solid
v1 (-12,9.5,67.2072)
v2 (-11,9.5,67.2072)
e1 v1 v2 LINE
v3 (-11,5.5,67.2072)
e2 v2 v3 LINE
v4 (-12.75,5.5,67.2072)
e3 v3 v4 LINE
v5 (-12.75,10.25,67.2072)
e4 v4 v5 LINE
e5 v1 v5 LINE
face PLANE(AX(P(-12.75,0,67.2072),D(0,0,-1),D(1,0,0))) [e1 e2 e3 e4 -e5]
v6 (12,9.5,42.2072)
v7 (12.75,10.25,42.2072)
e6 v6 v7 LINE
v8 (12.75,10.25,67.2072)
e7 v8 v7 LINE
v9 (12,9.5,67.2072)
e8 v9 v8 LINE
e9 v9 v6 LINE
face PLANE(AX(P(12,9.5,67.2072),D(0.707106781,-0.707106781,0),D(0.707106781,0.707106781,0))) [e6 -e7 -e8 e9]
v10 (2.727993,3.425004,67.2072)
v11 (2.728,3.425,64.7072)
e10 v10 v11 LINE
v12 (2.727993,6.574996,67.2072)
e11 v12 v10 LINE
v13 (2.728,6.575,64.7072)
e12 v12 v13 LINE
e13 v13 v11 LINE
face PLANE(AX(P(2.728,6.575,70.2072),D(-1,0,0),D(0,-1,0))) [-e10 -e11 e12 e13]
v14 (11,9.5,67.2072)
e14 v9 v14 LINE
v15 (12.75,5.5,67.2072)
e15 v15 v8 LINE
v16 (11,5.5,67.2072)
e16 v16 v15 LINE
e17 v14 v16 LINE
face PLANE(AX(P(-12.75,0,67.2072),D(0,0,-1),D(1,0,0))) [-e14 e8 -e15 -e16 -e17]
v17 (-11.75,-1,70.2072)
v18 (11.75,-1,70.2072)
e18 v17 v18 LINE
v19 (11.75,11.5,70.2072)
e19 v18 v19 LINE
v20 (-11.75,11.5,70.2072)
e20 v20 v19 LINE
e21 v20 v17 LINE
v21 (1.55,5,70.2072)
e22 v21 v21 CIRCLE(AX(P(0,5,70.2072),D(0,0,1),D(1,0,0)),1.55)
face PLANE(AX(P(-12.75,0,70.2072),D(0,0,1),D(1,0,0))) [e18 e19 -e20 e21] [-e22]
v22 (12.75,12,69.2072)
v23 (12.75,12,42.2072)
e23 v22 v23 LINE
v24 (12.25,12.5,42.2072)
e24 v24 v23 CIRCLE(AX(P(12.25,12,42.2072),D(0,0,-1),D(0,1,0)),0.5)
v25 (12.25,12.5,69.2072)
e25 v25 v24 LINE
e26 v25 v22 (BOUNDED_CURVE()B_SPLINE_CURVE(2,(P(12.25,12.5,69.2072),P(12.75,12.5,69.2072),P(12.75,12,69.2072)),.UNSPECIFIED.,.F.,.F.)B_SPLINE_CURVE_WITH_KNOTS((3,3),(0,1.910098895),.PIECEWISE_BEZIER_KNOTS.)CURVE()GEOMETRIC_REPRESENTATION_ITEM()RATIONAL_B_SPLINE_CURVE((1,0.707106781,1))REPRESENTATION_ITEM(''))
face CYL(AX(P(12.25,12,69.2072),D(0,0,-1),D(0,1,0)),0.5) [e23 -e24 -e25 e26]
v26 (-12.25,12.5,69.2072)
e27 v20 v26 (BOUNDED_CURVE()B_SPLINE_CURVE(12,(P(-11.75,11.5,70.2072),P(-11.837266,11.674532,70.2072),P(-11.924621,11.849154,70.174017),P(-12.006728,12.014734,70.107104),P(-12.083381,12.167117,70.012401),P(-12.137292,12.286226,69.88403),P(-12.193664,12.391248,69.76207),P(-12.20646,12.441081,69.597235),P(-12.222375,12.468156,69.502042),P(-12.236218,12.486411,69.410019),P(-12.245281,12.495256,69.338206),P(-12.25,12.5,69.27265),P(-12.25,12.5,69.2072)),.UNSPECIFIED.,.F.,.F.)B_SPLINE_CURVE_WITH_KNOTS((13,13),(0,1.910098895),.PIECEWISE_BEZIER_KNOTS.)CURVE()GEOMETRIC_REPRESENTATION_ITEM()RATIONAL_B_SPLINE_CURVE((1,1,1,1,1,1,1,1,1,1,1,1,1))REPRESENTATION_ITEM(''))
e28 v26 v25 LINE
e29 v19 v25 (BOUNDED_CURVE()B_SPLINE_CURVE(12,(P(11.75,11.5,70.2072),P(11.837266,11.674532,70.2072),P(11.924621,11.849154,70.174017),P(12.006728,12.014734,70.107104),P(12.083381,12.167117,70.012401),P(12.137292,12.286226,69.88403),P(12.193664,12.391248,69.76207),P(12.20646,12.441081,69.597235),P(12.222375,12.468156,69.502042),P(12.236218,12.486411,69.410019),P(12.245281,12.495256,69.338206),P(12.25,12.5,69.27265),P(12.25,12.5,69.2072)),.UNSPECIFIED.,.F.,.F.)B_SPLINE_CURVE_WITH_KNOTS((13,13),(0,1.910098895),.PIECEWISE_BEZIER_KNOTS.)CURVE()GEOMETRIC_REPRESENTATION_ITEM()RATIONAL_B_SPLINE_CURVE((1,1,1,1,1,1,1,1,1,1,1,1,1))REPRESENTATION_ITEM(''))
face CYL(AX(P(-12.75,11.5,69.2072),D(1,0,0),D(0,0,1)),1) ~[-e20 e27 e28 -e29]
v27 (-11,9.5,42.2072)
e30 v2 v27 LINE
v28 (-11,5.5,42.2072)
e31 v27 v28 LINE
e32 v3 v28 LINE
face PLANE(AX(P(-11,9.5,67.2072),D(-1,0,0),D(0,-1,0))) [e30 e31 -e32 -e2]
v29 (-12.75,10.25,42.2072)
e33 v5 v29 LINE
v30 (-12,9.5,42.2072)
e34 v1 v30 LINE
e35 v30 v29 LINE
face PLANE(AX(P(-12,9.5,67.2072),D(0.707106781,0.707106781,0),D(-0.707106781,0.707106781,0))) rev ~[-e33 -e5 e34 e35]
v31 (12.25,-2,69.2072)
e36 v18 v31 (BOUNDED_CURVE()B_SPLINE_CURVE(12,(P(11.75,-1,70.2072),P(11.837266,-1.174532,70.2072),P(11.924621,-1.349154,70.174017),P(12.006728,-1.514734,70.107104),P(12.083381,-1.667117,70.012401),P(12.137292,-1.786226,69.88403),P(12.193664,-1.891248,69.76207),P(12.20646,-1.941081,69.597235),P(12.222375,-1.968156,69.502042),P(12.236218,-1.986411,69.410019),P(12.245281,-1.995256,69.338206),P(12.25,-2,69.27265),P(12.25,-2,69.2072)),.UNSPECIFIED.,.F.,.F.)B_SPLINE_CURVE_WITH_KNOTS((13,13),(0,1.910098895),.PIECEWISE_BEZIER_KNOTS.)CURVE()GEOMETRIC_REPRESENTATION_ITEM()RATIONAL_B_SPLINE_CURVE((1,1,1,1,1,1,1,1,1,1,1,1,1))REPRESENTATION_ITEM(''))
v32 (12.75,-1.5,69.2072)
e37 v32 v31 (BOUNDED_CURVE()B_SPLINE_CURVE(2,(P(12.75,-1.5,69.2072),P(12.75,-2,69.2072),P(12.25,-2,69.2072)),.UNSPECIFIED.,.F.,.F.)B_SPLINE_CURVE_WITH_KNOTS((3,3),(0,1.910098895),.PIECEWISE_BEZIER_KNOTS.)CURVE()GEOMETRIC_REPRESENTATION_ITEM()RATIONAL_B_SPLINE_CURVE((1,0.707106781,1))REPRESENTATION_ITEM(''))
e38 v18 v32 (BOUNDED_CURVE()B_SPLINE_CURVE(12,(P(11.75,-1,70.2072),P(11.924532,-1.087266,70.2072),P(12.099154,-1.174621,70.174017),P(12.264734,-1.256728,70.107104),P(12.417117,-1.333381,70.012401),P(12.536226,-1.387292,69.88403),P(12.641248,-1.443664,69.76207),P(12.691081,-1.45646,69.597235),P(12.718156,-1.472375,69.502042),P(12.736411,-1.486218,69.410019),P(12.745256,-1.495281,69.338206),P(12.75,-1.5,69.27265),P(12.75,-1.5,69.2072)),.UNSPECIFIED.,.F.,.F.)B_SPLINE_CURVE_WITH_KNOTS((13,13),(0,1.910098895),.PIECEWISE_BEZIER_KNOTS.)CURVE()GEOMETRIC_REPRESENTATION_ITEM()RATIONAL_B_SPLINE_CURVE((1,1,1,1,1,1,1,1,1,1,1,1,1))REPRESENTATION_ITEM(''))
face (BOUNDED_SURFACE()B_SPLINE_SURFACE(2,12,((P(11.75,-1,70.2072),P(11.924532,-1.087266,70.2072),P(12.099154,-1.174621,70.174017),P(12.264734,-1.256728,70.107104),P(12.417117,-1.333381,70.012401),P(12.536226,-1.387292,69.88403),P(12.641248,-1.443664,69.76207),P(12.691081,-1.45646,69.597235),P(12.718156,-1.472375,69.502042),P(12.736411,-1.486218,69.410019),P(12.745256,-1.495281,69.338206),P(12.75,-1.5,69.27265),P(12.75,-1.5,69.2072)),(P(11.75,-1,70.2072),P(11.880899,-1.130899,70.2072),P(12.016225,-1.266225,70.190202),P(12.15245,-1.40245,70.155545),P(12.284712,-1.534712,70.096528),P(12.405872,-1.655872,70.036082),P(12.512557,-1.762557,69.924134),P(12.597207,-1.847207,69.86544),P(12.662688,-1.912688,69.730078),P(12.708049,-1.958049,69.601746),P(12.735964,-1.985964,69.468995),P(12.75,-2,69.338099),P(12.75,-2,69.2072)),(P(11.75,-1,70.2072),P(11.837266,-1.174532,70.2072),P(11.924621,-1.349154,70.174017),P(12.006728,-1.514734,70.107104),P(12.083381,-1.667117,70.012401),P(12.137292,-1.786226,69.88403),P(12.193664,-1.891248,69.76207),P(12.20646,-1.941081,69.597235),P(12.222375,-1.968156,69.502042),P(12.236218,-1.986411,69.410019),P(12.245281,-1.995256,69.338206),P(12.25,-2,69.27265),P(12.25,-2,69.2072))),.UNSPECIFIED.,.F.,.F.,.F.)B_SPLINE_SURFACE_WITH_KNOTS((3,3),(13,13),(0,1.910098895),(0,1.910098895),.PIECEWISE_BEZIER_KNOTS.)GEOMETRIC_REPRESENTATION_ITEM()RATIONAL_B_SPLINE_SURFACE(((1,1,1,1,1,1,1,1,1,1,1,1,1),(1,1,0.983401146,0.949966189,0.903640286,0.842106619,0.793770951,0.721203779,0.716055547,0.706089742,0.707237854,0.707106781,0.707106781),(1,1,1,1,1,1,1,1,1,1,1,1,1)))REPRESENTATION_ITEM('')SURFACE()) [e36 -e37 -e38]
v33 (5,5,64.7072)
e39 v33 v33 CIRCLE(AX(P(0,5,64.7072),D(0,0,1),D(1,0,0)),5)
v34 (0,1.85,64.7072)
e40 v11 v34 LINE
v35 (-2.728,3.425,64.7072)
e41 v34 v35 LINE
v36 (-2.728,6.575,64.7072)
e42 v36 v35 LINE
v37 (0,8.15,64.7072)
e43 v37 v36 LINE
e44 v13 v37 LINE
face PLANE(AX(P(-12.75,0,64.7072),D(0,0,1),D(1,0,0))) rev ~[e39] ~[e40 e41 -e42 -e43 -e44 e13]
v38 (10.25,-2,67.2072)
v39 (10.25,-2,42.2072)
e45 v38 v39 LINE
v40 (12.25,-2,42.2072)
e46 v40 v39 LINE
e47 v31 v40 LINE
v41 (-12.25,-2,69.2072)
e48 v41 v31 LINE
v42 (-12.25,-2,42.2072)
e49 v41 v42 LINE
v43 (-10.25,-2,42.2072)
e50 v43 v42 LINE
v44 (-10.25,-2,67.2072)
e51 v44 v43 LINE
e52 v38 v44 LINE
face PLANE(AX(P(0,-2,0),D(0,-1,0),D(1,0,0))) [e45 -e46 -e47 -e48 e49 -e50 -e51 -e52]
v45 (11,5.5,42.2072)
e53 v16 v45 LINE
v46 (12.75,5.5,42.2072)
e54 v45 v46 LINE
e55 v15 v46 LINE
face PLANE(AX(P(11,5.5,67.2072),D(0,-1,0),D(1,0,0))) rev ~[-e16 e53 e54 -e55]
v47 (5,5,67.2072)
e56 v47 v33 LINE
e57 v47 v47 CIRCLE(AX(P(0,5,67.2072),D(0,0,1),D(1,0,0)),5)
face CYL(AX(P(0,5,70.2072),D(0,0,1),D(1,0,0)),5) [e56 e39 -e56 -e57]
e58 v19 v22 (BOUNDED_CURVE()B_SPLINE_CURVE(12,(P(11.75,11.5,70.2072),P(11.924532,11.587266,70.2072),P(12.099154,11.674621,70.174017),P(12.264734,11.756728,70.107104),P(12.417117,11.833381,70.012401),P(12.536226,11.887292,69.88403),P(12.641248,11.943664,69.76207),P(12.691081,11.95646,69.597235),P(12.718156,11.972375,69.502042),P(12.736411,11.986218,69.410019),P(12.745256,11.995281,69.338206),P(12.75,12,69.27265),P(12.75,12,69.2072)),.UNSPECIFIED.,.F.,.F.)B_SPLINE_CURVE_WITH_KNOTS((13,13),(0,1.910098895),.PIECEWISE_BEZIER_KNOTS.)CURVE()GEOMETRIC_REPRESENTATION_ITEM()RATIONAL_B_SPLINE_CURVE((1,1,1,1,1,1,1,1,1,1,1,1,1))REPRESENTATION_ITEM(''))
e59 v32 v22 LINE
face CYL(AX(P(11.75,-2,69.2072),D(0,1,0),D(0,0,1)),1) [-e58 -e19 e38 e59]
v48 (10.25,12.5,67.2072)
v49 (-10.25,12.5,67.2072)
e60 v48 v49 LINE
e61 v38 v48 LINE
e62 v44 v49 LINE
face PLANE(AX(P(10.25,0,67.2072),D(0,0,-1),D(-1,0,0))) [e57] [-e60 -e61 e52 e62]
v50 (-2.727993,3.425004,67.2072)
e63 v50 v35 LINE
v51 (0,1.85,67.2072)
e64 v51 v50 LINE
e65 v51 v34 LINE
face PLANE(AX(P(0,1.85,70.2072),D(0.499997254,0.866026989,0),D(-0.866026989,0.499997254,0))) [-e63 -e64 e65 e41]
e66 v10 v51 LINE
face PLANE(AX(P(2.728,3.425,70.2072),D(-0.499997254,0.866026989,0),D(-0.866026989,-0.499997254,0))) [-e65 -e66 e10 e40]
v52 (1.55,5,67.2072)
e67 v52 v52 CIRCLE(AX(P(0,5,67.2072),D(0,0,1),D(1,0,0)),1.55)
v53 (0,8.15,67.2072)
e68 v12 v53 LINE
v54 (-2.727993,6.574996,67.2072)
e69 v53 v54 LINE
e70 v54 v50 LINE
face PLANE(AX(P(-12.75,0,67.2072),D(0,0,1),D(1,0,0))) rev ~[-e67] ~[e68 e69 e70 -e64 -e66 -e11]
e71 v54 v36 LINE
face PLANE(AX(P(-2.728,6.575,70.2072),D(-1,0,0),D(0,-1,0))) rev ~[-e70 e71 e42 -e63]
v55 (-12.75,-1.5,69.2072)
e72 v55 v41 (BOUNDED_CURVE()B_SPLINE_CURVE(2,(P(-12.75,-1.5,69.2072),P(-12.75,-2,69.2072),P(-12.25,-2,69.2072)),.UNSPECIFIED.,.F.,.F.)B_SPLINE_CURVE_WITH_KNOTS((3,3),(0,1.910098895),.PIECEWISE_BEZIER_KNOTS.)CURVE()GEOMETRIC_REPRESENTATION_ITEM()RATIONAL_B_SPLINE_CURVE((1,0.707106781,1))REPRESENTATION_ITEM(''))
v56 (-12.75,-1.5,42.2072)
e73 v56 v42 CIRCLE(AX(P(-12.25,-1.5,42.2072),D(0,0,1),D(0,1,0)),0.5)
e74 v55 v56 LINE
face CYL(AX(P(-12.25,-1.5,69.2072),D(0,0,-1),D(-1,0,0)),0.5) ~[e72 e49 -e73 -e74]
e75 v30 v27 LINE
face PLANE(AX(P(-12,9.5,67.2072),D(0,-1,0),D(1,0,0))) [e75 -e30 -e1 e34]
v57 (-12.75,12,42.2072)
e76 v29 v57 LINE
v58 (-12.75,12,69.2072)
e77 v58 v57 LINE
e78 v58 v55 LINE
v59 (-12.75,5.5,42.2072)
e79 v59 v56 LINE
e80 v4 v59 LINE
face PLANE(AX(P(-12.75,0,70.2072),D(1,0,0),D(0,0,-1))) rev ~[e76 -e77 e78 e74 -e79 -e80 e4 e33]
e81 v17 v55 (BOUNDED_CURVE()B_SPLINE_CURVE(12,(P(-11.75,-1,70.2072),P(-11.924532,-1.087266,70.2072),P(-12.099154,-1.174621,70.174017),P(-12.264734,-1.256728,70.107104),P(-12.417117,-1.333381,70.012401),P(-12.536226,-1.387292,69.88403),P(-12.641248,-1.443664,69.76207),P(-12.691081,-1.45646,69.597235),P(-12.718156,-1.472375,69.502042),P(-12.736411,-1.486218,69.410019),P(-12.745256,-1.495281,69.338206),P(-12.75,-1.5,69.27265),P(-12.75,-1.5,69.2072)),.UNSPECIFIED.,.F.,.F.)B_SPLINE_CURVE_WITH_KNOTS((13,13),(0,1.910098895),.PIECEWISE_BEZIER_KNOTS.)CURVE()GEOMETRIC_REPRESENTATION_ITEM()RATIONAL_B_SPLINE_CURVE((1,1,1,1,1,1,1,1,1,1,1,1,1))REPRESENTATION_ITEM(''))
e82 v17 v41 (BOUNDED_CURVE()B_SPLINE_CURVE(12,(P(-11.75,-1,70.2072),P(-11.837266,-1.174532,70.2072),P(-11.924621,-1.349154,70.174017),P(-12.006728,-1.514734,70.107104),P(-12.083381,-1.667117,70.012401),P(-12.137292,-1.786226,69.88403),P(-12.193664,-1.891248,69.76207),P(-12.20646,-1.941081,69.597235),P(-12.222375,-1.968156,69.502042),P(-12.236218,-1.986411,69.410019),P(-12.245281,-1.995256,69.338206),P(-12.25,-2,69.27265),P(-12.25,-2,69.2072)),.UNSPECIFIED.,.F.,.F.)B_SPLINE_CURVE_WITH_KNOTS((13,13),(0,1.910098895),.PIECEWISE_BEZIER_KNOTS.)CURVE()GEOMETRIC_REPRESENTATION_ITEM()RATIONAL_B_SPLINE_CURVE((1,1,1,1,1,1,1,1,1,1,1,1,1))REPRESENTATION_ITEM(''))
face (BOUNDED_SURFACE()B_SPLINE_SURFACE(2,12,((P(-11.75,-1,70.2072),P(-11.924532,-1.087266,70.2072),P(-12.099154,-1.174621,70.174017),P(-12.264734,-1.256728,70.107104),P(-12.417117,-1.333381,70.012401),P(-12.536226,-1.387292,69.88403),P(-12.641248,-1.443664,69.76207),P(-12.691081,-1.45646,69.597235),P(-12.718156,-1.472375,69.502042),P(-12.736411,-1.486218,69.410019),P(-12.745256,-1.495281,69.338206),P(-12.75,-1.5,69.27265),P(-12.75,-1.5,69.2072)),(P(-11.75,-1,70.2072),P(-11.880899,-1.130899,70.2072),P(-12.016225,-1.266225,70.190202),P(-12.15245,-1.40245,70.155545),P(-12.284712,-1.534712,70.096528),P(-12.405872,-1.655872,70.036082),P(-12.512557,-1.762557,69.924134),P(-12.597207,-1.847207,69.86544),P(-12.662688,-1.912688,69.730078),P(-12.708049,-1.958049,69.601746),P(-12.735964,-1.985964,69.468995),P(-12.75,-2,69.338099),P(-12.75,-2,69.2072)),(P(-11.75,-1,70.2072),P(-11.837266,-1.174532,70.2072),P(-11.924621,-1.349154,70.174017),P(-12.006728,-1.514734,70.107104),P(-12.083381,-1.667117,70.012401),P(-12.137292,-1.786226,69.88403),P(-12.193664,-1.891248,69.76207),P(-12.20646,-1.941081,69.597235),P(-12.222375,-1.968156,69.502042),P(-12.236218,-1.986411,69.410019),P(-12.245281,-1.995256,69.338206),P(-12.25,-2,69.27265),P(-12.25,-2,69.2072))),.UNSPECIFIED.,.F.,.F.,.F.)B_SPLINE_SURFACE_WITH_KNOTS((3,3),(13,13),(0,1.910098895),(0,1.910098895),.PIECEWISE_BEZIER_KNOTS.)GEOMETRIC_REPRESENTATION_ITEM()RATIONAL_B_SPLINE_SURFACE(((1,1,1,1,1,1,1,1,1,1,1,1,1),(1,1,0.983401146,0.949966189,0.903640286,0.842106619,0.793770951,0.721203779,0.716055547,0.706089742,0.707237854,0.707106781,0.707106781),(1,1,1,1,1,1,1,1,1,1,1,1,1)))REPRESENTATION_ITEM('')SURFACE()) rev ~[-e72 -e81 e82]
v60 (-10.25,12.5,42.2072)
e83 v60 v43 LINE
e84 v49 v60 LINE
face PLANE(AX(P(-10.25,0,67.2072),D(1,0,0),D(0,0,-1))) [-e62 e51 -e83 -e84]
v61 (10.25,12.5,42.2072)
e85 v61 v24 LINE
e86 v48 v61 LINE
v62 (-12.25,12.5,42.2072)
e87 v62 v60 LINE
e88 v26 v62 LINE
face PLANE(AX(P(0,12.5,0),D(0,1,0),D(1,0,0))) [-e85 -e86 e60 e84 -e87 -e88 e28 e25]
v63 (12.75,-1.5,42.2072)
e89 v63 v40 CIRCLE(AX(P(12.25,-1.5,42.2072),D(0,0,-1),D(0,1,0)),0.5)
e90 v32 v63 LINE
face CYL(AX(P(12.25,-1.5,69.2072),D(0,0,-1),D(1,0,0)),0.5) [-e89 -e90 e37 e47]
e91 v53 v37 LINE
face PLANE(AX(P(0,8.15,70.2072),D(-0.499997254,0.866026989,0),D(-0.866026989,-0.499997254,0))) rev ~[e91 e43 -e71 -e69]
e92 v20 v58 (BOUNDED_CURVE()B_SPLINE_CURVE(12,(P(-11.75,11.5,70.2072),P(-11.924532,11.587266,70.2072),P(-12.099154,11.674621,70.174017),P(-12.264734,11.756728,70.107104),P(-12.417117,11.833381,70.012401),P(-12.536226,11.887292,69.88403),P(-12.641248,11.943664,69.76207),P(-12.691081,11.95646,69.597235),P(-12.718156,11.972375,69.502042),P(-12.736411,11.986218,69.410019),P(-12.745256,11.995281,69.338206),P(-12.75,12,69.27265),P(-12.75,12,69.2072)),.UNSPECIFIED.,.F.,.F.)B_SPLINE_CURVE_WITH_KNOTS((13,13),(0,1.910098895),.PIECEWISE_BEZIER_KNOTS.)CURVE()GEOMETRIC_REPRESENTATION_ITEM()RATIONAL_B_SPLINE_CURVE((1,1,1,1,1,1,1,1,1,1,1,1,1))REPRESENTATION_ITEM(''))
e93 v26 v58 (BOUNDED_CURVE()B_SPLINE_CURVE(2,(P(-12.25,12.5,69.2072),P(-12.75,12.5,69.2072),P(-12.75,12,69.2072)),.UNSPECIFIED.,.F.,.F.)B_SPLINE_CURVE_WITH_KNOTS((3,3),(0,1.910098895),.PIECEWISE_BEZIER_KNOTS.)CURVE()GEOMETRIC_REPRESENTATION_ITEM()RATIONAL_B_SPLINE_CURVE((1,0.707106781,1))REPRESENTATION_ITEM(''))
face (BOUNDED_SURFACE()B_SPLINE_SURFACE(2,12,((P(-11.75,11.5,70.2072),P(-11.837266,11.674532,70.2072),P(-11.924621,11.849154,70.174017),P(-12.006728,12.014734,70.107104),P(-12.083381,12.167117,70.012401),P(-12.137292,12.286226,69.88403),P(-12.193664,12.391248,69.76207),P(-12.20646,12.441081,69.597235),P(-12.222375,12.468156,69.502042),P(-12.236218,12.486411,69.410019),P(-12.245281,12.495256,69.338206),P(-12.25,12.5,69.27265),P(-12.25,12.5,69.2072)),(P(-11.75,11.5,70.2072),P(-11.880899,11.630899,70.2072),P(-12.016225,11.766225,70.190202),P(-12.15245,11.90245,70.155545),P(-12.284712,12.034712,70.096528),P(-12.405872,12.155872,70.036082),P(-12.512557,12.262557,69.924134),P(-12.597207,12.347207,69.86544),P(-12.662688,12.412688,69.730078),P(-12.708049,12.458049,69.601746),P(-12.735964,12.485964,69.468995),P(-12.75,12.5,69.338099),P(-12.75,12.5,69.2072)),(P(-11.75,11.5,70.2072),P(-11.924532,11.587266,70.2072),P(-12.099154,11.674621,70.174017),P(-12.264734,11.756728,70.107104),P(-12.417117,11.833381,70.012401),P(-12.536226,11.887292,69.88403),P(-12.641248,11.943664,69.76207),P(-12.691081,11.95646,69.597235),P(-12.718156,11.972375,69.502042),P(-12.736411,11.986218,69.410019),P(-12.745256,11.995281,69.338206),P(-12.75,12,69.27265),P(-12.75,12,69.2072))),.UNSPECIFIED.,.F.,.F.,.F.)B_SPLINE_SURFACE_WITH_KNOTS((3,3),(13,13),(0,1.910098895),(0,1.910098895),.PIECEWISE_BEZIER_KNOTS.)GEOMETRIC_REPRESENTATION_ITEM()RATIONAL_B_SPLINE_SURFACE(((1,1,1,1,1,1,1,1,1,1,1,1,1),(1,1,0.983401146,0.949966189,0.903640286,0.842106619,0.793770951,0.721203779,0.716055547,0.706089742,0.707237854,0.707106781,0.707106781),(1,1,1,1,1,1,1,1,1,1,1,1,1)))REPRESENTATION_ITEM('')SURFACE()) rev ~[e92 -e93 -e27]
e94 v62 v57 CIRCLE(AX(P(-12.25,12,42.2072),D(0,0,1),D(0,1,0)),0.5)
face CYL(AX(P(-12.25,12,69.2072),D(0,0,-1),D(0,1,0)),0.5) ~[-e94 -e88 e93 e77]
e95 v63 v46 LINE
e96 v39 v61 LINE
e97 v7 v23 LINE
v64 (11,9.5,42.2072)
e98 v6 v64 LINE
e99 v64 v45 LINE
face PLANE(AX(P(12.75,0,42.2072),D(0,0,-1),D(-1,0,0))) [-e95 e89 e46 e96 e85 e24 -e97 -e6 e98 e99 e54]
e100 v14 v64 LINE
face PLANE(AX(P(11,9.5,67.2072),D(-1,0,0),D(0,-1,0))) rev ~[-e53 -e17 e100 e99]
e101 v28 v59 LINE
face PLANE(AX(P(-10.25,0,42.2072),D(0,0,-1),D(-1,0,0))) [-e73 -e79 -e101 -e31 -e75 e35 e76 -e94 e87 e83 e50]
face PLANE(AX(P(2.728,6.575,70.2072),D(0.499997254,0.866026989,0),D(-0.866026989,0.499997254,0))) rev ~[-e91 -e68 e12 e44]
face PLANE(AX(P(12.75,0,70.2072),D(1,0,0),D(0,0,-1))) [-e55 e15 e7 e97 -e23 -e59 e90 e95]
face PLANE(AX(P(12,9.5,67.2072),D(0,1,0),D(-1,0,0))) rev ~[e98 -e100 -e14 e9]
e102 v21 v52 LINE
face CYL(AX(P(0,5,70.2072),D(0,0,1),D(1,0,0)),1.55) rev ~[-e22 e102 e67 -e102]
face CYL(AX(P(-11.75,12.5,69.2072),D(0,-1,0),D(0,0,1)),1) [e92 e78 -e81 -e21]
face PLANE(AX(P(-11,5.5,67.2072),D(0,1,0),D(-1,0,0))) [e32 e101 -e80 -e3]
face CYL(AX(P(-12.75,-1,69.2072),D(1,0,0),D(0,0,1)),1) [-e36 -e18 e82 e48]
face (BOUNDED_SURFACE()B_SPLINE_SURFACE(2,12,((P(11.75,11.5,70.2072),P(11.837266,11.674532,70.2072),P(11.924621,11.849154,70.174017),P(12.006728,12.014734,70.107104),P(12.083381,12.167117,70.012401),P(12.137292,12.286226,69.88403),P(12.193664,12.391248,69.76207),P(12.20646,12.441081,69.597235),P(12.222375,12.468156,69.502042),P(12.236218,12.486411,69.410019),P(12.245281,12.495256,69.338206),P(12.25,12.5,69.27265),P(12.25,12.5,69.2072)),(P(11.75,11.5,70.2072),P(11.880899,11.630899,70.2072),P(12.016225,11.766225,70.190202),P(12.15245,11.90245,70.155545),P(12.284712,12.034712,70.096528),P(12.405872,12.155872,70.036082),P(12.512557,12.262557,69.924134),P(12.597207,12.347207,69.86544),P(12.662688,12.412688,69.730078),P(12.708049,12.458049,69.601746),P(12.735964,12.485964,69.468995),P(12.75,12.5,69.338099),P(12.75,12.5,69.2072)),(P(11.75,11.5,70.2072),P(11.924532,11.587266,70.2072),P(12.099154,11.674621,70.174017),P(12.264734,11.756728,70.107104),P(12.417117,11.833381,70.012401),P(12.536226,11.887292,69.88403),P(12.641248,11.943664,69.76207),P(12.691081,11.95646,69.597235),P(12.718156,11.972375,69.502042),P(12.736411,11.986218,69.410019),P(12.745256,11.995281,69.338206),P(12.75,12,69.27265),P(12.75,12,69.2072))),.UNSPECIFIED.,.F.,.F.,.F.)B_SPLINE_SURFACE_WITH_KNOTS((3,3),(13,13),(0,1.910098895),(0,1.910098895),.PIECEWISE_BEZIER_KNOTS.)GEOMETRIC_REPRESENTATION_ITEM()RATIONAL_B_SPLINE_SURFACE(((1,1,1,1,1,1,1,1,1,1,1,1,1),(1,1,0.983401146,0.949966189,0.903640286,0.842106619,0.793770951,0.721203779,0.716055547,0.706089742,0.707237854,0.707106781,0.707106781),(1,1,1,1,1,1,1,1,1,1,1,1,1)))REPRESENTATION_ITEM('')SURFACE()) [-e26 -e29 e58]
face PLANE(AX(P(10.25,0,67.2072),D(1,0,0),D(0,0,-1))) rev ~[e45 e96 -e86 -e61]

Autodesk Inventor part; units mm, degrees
ref_plane "YZ Plane" through (0, 0, 0) normal (1, 0, 0) x (0, 1, 0)
ref_plane "XZ Plane" through (0, 0, 0) normal (0, 1, 0) x (-1, 0, 0)
ref_plane "XY Plane" through (0, 0, 0) normal (0, 0, 1) x (1, 0, 0)
sketch "Эскиз1" plane through (0, 0, 0) normal (0, 1, 0) x (-1, 0, 0)
  line L0 (0, 56.6418) -> (23.7825, 76.5969) construction
  line L1 (44.1942, 76.014) -> (76.014, 44.1942) construction
  line L2 (91.1, 52.2091) -> (52.2091, 91.1) construction
  line L3 (0, 0) -> (74.2462, 74.2462) construction
  arc A0 (92.5543, 49.5852) -> (48.7014, 93.0224) centre (0, 0) ccw construction
  line L4 (52.2091, 91.1) -> (48.6736, 87.5645) construction
  arc A1 (44.1942, 83.085) -> (44.1942, 76.014) centre (47.7297, 79.5495) ccw construction
  line L5 (52.2091, 91.1) -> (48.6736, 87.5645) construction
  line L6 (48.6736, 87.5645) -> (52.2091, 91.1) construction
  spline S0 degree 2 poles (48.6736, 87.5645) (52.2091, 91.1) (48.7014, 93.0224) knots 1 1 1 2 2 2 construction
  line L7 (52.2091, 91.1) -> (48.7014, 93.0224) construction
  line L8 (52.2091, 91.1) -> (48.7014, 93.0224) construction
  arc A2 (48.7014, 93.0224) -> (44.0271, 95.3237) centre (0, 0) ccw construction
  arc A3 (44.0271, 95.3237) -> (43.577, 95.5303) centre (0, 0) ccw construction
  line L9 (42.6652, 95.941) -> (43.577, 95.5303) construction
  line L10 (42.6652, 95.941) -> (43.577, 95.5303) construction
  spline S1 degree 2 poles (42.0492, 94.5734) (42.6652, 95.941) (43.577, 95.5303) knots 1 1 1 2 2 2 construction
  line L11 (42.0492, 94.5734) -> (42.6652, 95.941) construction
  line L12 (42.6652, 95.941) -> (42.0492, 94.5734) construction
  line L13 (0, 0) -> (0, 209.8821) construction
  spline S2 degree 2 poles (-48.6736, 87.5645) (-52.2091, 91.1) (-48.7014, 93.0224) knots 1 1 1 2 2 2 construction
  line L14 (-48.6736, 87.5645) -> (-52.2091, 91.1) construction
  line L15 (-52.2091, 91.1) -> (-48.7014, 93.0224) construction
  arc A4 (-44.1942, 76.014) -> (-44.1942, 83.085) centre (-47.7297, 79.5495) ccw construction
  line L16 (-44.1942, 76.014) -> (-76.014, 44.1942) construction
  arc A5 (-48.7014, 93.0224) -> (-92.5543, 49.5852) centre (0, 0) ccw construction
  arc A6 (-83.085, 44.1942) -> (-76.014, 44.1942) centre (-79.5495, 47.7297) ccw construction
  line L17 (-83.085, 44.1942) -> (-87.3563, 48.4654) construction
  spline S3 degree 2 poles (-48.6736, -87.5645) (-52.2091, -91.1) (-48.7014, -93.0224) knots 1 1 1 2 2 2 construction
  line L18 (-48.6736, -87.5645) -> (-52.2091, -91.1) construction
  line L19 (-52.2091, -91.1) -> (-48.7014, -93.0224) construction
  circle A7 centre (0, 0) radius 35 construction
  line L20 (-46.3155, -73.8927) -> (-73.8927, -46.3155) construction
  arc A8 (-73.8927, -46.3155) -> (-85.2064, -46.3155) centre (-79.5495, -51.9723) ccw construction
  line L21 (-85.2064, -46.3155) -> (-87.5645, -48.6736) construction
  line L22 (-87.5645, -48.6736) -> (-91.1, -52.2091) construction
  spline S4 degree 2 poles (-87.5645, -48.6736) (-91.1, -52.2091) (-92.5543, -49.5852) knots 1 1 1 2 2 2 construction
  line L23 (-91.1, -52.2091) -> (-92.5543, -49.5852) construction
  arc A9 (-92.5543, -49.5852) -> (-48.7014, -93.0224) centre (0, 0) ccw construction
  arc A10 (-92.5543, 49.5852) -> (-92.5543, -49.5852) centre (0, 0) ccw construction
  line L24 (48.6736, -87.5645) -> (46.3155, -85.2064) construction
  arc A11 (-46.3155, -85.2064) -> (-46.3155, -73.8927) centre (-51.9723, -79.5495) ccw construction
  line L25 (-48.6736, -87.5645) -> (-46.3155, -85.2064) construction
  arc A12 (-48.7014, -93.0224) -> (48.7014, -93.0224) centre (0, 0) ccw construction
  arc A13 (46.3155, -73.8927) -> (46.3155, -85.2064) centre (51.9723, -79.5495) ccw construction
  arc A14 (43.577, 95.5303) -> (-43.577, 95.5303) centre (0, 0) ccw construction
  arc A15 (23.7825, 76.5969) -> (0, 67.941) centre (0, 104.941) ccw construction
  line L26 (0, 56.6418) -> (-35.5516, 86.4744) construction
  line L27 (44.0271, 95.3237) -> (44.0271, 127.8162) construction
  ellipse E0 centre (0, 102.7511) end of major axis (44.0271, 102.7511) minor radius 27.5932 (42.0492, 94.5734) -> (35.2734, 86.2384) ccw construction
  line L28 (42.6652, 95.941) -> (-42.6652, 95.941) construction
  ellipse E1 centre (0, 102.7511) end of major axis (44.5159, 105.2445) minor radius 28.887 (35.2734, 86.2384) -> (42.0492, 94.5734) ccw construction
  line L29 (23.7825, 76.5969) -> (35.2734, 86.2384) construction
  arc A16 (0, 67.941) -> (23.7825, 76.5969) centre (0, 104.941) ccw construction
  arc A17 (-23.7825, 76.5969) -> (0, 67.941) centre (0, 104.941) ccw construction
  line L30 (-23.7825, 76.5969) -> (-35.2734, 86.2384) construction
  line L31 (-42.6652, 95.941) -> (-42.0492, 94.5734) construction
  arc A18 (-43.577, 95.5303) -> (-48.7014, 93.0224) centre (0, 0) ccw construction
  line L32 (-42.6652, 95.941) -> (-43.577, 95.5303) construction
  spline S5 degree 2 poles (-42.0492, 94.5734) (-42.6652, 95.941) (-43.577, 95.5303) knots 1 1 1 2 2 2 construction
  line L33 (-42.0492, 94.5734) -> (-42.6652, 95.941) construction
  line L34 (-42.6652, 95.941) -> (-43.577, 95.5303) construction
  line L35 (-42.6652, 95.941) -> (-43.577, 95.5303) construction
  spline S6 degree 2 poles (-42.0492, 94.5734) (-42.6652, 95.941) (-43.577, 95.5303) knots 1 1 1 2 2 2 construction
  line L36 (-42.0492, 94.5734) -> (-42.6652, 95.941) construction
  ellipse E2 centre (0, 102.7511) end of major axis (-44.5159, 105.2445) minor radius 28.887 (-42.0492, 94.5734) -> (-35.2734, 86.2384) ccw construction
  line L37 (83.085, 44.1942) -> (87.5645, 48.6736) construction
  arc A19 (76.014, 44.1942) -> (83.085, 44.1942) centre (79.5495, 47.7297) ccw construction
  spline S7 degree 2 poles (48.6736, -87.5645) (52.2091, -91.1) (48.7014, -93.0224) knots 1 1 1 2 2 2 construction
  line L38 (48.6736, -87.5645) -> (52.2091, -91.1) construction
  line L39 (52.2091, -91.1) -> (48.7014, -93.0224) construction
  line L40 (46.3155, -73.8927) -> (73.8927, -46.3155) construction
  arc A20 (85.2064, -46.3155) -> (73.8927, -46.3155) centre (79.5495, -51.9723) ccw construction
  line L41 (85.2064, -46.3155) -> (87.5645, -48.6736) construction
  spline S8 degree 2 poles (87.5645, -48.6736) (91.1, -52.2091) (92.5543, -49.5852) knots 1 1 1 2 2 2 construction
  line L42 (87.5645, -48.6736) -> (91.1, -52.2091) construction
  line L43 (91.1, -52.2091) -> (92.5543, -49.5852) construction
  arc A21 (92.5543, -49.5852) -> (92.5543, 49.5852) centre (0, 0) ccw construction
  arc A22 (48.7014, -93.0224) -> (92.5543, -49.5852) centre (0, 0) ccw construction
  arc A23 (28.5452, 71.4571) -> (-28.5452, 71.4571) centre (0, 104.941) ccw construction
  line L44 (-83.085, 34.2947) -> (-90.6891, 41.8987) construction
  line L45 (-93.5297, 47.6709) -> (-92.5543, 49.5852) construction
  line L46 (-29.1816, 81.127) -> (-76.014, 34.2947) construction
  arc A24 (-83.085, 34.2947) -> (-76.014, 34.2947) centre (-79.5495, 37.8302) ccw construction
  line L47 (-34.1491, 76.1596) -> (-28.5452, 71.4571) construction
  arc A25 (-30.6393, 73.2144) -> (-37.3889, 72.9198) centre (-33.8534, 69.3842) ccw construction
  arc A26 (-90.6891, 41.8987) -> (-87.3563, 48.4654) centre (0, 0) ccw construction
  arc A27 (37.3889, 72.9198) -> (30.6393, 73.2144) centre (33.8534, 69.3842) ccw construction
  line L48 (29.1816, 81.127) -> (76.014, 34.2947) construction
  arc A28 (76.014, 34.2947) -> (83.085, 34.2947) centre (79.5495, 37.8302) ccw construction
  line L49 (83.085, 34.2947) -> (90.6891, 41.8987) construction
  arc A29 (76.014, 44.1942) -> (83.085, 44.1942) centre (79.5495, 47.7297) ccw construction
  line L50 (44.1942, 76.014) -> (76.014, 44.1942) construction
  arc A30 (44.1942, 83.085) -> (44.1942, 76.014) centre (47.7297, 79.5495) ccw construction
  arc A31 (5.5413, 61.2914) -> (28.5452, 71.4571) centre (0, 104.941) ccw
  arc A32 (-28.5452, 71.4571) -> (5.5413, 61.2914) centre (0, 104.941) ccw
  line L51 (34.1491, 76.1596) -> (28.5452, 71.4571) construction
  arc A33 (-87.3563, 48.4654) -> (-90.6891, 41.8987) centre (0, 0) ccw construction
  line L52 (83.085, 44.1942) -> (87.3563, 48.4654) construction
  arc A34 (90.6891, 41.8987) -> (87.3563, 48.4654) centre (0, 0) ccw construction
  line L53 (-44.1942, 83.085) -> (-48.6736, 87.5645) construction
  line L54 (44.0271, 95.3237) -> (43.577, 95.5303) construction
  line L55 (48.6736, 87.5645) -> (44.1942, 83.085) construction
  line L56 (0, 104.941) -> (-23.6028, 54.3247) construction
  circle A35 centre (31.1916, 76.2887) radius 2 construction
  line L57 (29.1816, 81.127) -> (23.7825, 76.5969)
  line L58 (29.1816, 81.127) -> (34.1491, 76.1596)
  line L59 (34.1491, 76.1596) -> (28.5452, 71.4571)
  line L60 (-28.5452, 71.4571) -> (-34.1491, 76.1596)
  line L61 (-23.7825, 76.5969) -> (-29.1816, 81.127)
  line L62 (-29.1816, 81.127) -> (-34.1491, 76.1596)
  arc A36 (-26.6462, 78.9996) -> (-31.2232, 73.7044) centre (-28.9734, 76.3855) ccw
  arc A37 (31.2232, 73.7044) -> (26.6462, 78.9996) centre (28.9734, 76.3855) ccw
  line L63 (12.75, 58.0269) -> (-12.75, 58.0269)
  line L64 (0, 67.941) -> (0, 64.941) construction
  line L65 (-12.75, 58.0269) -> (-12.75, 67.2072) construction
  line L66 (12.75, 58.0269) -> (12.75, 67.2072) construction
  arc A38 (-12.75, 67.2072) -> (12.75, 67.2072) centre (0, 101.941) ccw
  line L67 (12.75, 67.2072) -> (12.75, 70.2072)
  line L68 (-12.75, 70.2072) -> (-12.75, 70.2072) construction
  line L69 (-12.75, 67.2072) -> (-12.75, 70.2072)
  line L70 (10.1, 59.4125) -> (-10.1, 59.4125) construction
  line L71 (12.75, 70.2072) -> (-12.75, 70.2072)
  line L72 (12.75, 67.2072) -> (-12.75, 67.2072)
  point P0 (60.1041, 60.1041)
  point P1 (40.6586, 79.5495)
  point P2 (79.5495, 40.6586)
  point P3 (0, 105)
  point P4 (-87.5645, 48.6736)
  point P5 (-23.542, 76.3968)
  point P6 (-34.9935, 86.0061)
  point P7 (0, 95.941)
  point P8 (-94.5192, 45.7288)
  point P9 (-13.2817, 58.6489)
  point P10 (-28.5452, 71.4571)
  point P11 (13.2817, 58.6489)
  point P12 (-15.6369, 71.4076)
  point P13 (-26.8032, 79.1314)
  point P14 (-31.2232, 73.7044)
  point P15 (26.8032, 79.1314)
  dimension "d67" = 44.5856
  dimension "d48" = 74
  dimension "d49" = 100
  dimension "d50" = 28
  dimension "d51" = 15
  dimension "d52" = 45
  dimension "d53" = 55
  dimension "d54" = 16.3348
  dimension "d55" = 27.5
  dimension "d56" = 5
  dimension "d57" = 5
  dimension "d58" = 1
  dimension "d59" = 1.5
  dimension "d60" = 1.5
  dimension "d61" = 1
  dimension "d62" = 4
  dimension "d63" = 70
  dimension "d64" = 85
  dimension "d65" = 105
  dimension "d66" = 1.3619
  dimension "d68" = 88
  dimension "d69" = 7
  dimension "d70" = 5
  dimension "d71" = 7
  dimension "d72" = 5
  dimension "d73" = 7
  dimension "d74" = 5
  dimension "d75" = 5.1
  dimension "d78" = 4
  dimension "d166" = 25.5
  dimension "d169" = 3
  dimension "d171" = 3
  dimension "d172" = 3
  dimension "d173" = 20.2
extrude "Выдавливание7" add sketch "Эскиз1" along normal blind 14 contours L69 L71 L67 L72
sketch "Эскиз10" plane through (12.75, 0, 67.2072) normal (0, 0, -1) x (-1, 0, 0)
  line L0 (25.5, 0) -> (0, 0) construction
  line L1 (0, 0) -> (0, 14) construction
  line L2 (25.5, 14) -> (0, 14) construction
  line L3 (25.5, 0) -> (25.5, 14) construction
  line L4 (25.5, 14) -> (0, 14) construction
  line L5 (12.75, 14) -> (12.75, 0) construction
  line L6 (-0.25, 15.8948) -> (-0.25, -2.2577) construction
  line L7 (0, 14) -> (2.5, 14)
  line L8 (2.5, 14) -> (2.5, 0)
  line L9 (2.5, 0) -> (0, 0)
  line L10 (0, 0) -> (0, 14)
  line L11 (0, 9) -> (2.5, 9) construction
  line L12 (0, 0) -> (0, 14) construction
  line L13 (0, 9.5) -> (1.75, 9.5)
  line L14 (1.75, 9.5) -> (1.75, 5.5)
  line L15 (1.75, 5.5) -> (0, 5.5)
  line L16 (0, 5.5) -> (0, 9.5) construction
  line L17 (0, 9) -> (1.25, 9) construction
  line L18 (1.25, 9) -> (1.25, 6) construction
  line L19 (1.25, 6) -> (0, 6) construction
  line L20 (0, 6) -> (0, 9) construction
  line L21 (1.25, 9) -> (0, 10.25)
  line L22 (25.5, 0) -> (25.5, 14) construction
  line L23 (25.5, 14) -> (23, 14)
  line L24 (23, 14) -> (23, 0)
  line L25 (23, 0) -> (25.5, 0)
  line L26 (25.5, 0) -> (25.5, 14)
  line L27 (25.5, 9) -> (23, 9) construction
  line L28 (25.5, 0) -> (25.5, 14) construction
  line L29 (25.5, 9.5) -> (23.75, 9.5)
  line L30 (23.75, 9.5) -> (23.75, 5.5)
  line L31 (23.75, 5.5) -> (25.5, 5.5)
  line L32 (25.5, 5.5) -> (25.5, 9.5) construction
  line L33 (25.5, 9) -> (24.25, 9) construction
  line L34 (24.25, 9) -> (24.25, 6) construction
  line L35 (24.25, 6) -> (25.5, 6) construction
  line L36 (25.5, 6) -> (25.5, 9) construction
  line L37 (24.25, 9) -> (25.5, 10.25)
  point P0 (24.75, 9.5)
  point P1 (0, 5.5)
  point P2 (0, 10.25)
  point P3 (0.75, 9.5)
  dimension "d215" = 26
  dimension "d216" = 20.5
  dimension "d218" = 3
  dimension "d219" = 1.5
  dimension "d220" = 0.5
  dimension "d221" = 0.5
  dimension "d222" = 0.5
  dimension "d223" = 135
  dimension "d237" = 5.5
extrude "Выдавливание16" add sketch "Эскиз10" along normal blind 25 contours L7 L8 L9 L10 L15 L14 L13 L21 | L26 L37 L29 L30 L31 L25 L24 L23
sketch "Эскиз12" plane through (-12.75, 0, 70.2072) normal (0, 0, 1) x (1, 0, 0)
  line L0 (0, 14) -> (2.5, 14) construction
  line L1 (2.5, 14) -> (2.5, 0) construction
  line L2 (2.5, 0) -> (0, 0) construction
  line L3 (0, 0) -> (0, 5.5) construction
  line L4 (0, 5.5) -> (1.75, 5.5) construction
  line L5 (1.75, 5.5) -> (1.75, 9.5) construction
  line L6 (1.75, 9.5) -> (0.75, 9.5) construction
  line L7 (0.75, 9.5) -> (0, 10.25) construction
  line L8 (0, 10.25) -> (0, 14) construction
  line L9 (0, 0) -> (25.5, 0) construction
  line L10 (25.5, 0) -> (25.5, 14) construction
  line L11 (0, 14) -> (25.5, 14) construction
  line L12 (0, 0) -> (0, 14) construction
  line L13 (25.5, 14) -> (25.5, 10.25) construction
  line L14 (25.5, 10.25) -> (24.75, 9.5) construction
  line L15 (24.75, 9.5) -> (23.75, 9.5) construction
  line L16 (23.75, 9.5) -> (23.75, 5.5) construction
  line L17 (23.75, 5.5) -> (25.5, 5.5) construction
  line L18 (25.5, 5.5) -> (25.5, 0) construction
  line L19 (25.5, 0) -> (23, 0) construction
  line L20 (23, 0) -> (23, 14) construction
  line L21 (23, 14) -> (25.5, 14) construction
  line L22 (23, 0) -> (23, 14) construction
  line L23 (0, 14) -> (25.5, 14) construction
  line L24 (23, 14) -> (25.5, 14) construction
  line L25 (23, 14) -> (2.5, 14) construction
  line L26 (0, 14) -> (2.5, 14) construction
  line L27 (25.5, 0) -> (25.5, 14) construction
  line L28 (25.5, 5.5) -> (25.5, 10.25) construction
  line L29 (0, 0) -> (0, 14) construction
  line L30 (0, 14) -> (25.5, 14) construction
  line L31 (12.75, 14) -> (12.75, 0) construction
  circle A0 centre (12.75, 5) radius 3.15
  circle A1 centre (12.75, 5) radius 1.55
  line L32 (12.75, 5) -> (15.478, 6.575) construction
  line L33 (12.75, 5) -> (10.022, 6.575) construction
  line L34 (12.75, 5) -> (15.9, 5) construction
  line L35 (12.75, 5) -> (15.478, 3.425) construction
  line L36 (12.75, 5) -> (10.022, 3.425) construction
  line L37 (15.478, 6.575) -> (12.75, 8.15)
  line L38 (12.75, 8.15) -> (10.022, 6.575)
  line L39 (10.022, 6.575) -> (10.022, 3.425)
  line L40 (15.478, 6.575) -> (15.478, 3.425)
  line L41 (15.478, 3.425) -> (12.75, 1.85)
  line L42 (12.75, 1.85) -> (10.022, 3.425)
  circle A2 centre (12.75, 5) radius 5
  point P0 (15.478, 3.425)
  point P1 (15.478, 3.425)
  point P2 (12.75, 1.85)
  point P3 (10.022, 3.425)
  point P4 (10.022, 3.425)
  point P5 (10.022, 6.575)
  point P6 (10.022, 6.575)
  dimension "d226" = 6.3
  dimension "d229" = 3.1
  dimension "d238" = 5
  dimension "d239" = 60
  dimension "d244" = 10
extrude "Выдавливание17" [suppressed]
extrude "Выдавливание18" cut sketch "Эскиз12" against normal blind 5.5 contours A1
extrude "Выдавливание19" cut sketch "Эскиз12" against normal blind 5.5 contours L40 L41 L42 L39 L38 L37
fillet "Сопряжение1" [suppressed]
sketch "Эскиз14" plane through (0, 0, 0) normal (0, -1, 0) x (1, 0, 0)
  line L0 (-12.75, 70.2072) -> (12.75, 70.2072) projected
  line L1 (-12.75, 70.2072) -> (-12.75, 42.2072) projected
  line L2 (-10.25, 42.2072) -> (-12.75, 42.2072) projected
  line L3 (-10.25, 67.2072) -> (-10.25, 42.2072) projected
  line L4 (10.25, 67.2072) -> (-10.25, 67.2072) projected
  line L5 (10.25, 67.2072) -> (10.25, 42.2072) projected
  line L6 (12.75, 42.2072) -> (10.25, 42.2072) projected
  line L7 (12.75, 70.2072) -> (12.75, 42.2072) projected
  point P0 (0, 0)
extrude "Выдавливание20" add sketch "Эскиз14" along normal blind 2
fillet "Сопряжение2" [suppressed]
extrude "Выдавливание21" add sketch "Эскиз12" against normal blind 5.5 contours A2
extrude "Выдавливание22" add sketch "Эскиз12" against normal blind 3 contours L40 L41 L42 L39 L38 L37
extrude "Выдавливание23" add sketch "Эскиз12" against normal blind 5.5 contours A0 L40 | L37 A0 | A0 L41 | L38 A0 | A0 L42 | L39 A0
sketch "Эскиз16" plane through (0, 14, 0) normal (0, 1, 0) x (1, 0, 0)
  line L0 (-12.75, -70.2072) -> (12.75, -70.2072) projected
  line L1 (12.75, -70.2072) -> (12.75, -42.2072) projected
  line L2 (10.25, -42.2072) -> (12.75, -42.2072) projected
  line L3 (10.25, -67.2072) -> (10.25, -42.2072) projected
  line L4 (10.25, -67.2072) -> (-10.25, -67.2072) projected
  line L5 (-10.25, -67.2072) -> (-10.25, -42.2072) projected
  line L6 (-12.75, -42.2072) -> (-10.25, -42.2072) projected
  line L7 (-12.75, -70.2072) -> (-12.75, -42.2072) projected
  point P0 (0, 0)
extrude "Выдавливание24" cut sketch "Эскиз16" against normal blind 1.5
fillet "Сопряжение3" radius 1 4 edges at (0, 12.5, 70.2072) (12.75, 5.25, 70.2072) (0, -2, 70.2072) (-12.75, 5.25, 70.2072)
fillet "Сопряжение4" radius 0.5 6 edges at (-12.4571, 12.2071, 69.9143) (-12.4571, -1.7071, 69.9143) (-12.75, -2, 55.7072) (12.4571, -1.7071, 69.9143) (12.75, -2, 55.7072) (12.4571, 12.2071, 69.9143)
properties part number "_3DПЕЧАТЬ"
